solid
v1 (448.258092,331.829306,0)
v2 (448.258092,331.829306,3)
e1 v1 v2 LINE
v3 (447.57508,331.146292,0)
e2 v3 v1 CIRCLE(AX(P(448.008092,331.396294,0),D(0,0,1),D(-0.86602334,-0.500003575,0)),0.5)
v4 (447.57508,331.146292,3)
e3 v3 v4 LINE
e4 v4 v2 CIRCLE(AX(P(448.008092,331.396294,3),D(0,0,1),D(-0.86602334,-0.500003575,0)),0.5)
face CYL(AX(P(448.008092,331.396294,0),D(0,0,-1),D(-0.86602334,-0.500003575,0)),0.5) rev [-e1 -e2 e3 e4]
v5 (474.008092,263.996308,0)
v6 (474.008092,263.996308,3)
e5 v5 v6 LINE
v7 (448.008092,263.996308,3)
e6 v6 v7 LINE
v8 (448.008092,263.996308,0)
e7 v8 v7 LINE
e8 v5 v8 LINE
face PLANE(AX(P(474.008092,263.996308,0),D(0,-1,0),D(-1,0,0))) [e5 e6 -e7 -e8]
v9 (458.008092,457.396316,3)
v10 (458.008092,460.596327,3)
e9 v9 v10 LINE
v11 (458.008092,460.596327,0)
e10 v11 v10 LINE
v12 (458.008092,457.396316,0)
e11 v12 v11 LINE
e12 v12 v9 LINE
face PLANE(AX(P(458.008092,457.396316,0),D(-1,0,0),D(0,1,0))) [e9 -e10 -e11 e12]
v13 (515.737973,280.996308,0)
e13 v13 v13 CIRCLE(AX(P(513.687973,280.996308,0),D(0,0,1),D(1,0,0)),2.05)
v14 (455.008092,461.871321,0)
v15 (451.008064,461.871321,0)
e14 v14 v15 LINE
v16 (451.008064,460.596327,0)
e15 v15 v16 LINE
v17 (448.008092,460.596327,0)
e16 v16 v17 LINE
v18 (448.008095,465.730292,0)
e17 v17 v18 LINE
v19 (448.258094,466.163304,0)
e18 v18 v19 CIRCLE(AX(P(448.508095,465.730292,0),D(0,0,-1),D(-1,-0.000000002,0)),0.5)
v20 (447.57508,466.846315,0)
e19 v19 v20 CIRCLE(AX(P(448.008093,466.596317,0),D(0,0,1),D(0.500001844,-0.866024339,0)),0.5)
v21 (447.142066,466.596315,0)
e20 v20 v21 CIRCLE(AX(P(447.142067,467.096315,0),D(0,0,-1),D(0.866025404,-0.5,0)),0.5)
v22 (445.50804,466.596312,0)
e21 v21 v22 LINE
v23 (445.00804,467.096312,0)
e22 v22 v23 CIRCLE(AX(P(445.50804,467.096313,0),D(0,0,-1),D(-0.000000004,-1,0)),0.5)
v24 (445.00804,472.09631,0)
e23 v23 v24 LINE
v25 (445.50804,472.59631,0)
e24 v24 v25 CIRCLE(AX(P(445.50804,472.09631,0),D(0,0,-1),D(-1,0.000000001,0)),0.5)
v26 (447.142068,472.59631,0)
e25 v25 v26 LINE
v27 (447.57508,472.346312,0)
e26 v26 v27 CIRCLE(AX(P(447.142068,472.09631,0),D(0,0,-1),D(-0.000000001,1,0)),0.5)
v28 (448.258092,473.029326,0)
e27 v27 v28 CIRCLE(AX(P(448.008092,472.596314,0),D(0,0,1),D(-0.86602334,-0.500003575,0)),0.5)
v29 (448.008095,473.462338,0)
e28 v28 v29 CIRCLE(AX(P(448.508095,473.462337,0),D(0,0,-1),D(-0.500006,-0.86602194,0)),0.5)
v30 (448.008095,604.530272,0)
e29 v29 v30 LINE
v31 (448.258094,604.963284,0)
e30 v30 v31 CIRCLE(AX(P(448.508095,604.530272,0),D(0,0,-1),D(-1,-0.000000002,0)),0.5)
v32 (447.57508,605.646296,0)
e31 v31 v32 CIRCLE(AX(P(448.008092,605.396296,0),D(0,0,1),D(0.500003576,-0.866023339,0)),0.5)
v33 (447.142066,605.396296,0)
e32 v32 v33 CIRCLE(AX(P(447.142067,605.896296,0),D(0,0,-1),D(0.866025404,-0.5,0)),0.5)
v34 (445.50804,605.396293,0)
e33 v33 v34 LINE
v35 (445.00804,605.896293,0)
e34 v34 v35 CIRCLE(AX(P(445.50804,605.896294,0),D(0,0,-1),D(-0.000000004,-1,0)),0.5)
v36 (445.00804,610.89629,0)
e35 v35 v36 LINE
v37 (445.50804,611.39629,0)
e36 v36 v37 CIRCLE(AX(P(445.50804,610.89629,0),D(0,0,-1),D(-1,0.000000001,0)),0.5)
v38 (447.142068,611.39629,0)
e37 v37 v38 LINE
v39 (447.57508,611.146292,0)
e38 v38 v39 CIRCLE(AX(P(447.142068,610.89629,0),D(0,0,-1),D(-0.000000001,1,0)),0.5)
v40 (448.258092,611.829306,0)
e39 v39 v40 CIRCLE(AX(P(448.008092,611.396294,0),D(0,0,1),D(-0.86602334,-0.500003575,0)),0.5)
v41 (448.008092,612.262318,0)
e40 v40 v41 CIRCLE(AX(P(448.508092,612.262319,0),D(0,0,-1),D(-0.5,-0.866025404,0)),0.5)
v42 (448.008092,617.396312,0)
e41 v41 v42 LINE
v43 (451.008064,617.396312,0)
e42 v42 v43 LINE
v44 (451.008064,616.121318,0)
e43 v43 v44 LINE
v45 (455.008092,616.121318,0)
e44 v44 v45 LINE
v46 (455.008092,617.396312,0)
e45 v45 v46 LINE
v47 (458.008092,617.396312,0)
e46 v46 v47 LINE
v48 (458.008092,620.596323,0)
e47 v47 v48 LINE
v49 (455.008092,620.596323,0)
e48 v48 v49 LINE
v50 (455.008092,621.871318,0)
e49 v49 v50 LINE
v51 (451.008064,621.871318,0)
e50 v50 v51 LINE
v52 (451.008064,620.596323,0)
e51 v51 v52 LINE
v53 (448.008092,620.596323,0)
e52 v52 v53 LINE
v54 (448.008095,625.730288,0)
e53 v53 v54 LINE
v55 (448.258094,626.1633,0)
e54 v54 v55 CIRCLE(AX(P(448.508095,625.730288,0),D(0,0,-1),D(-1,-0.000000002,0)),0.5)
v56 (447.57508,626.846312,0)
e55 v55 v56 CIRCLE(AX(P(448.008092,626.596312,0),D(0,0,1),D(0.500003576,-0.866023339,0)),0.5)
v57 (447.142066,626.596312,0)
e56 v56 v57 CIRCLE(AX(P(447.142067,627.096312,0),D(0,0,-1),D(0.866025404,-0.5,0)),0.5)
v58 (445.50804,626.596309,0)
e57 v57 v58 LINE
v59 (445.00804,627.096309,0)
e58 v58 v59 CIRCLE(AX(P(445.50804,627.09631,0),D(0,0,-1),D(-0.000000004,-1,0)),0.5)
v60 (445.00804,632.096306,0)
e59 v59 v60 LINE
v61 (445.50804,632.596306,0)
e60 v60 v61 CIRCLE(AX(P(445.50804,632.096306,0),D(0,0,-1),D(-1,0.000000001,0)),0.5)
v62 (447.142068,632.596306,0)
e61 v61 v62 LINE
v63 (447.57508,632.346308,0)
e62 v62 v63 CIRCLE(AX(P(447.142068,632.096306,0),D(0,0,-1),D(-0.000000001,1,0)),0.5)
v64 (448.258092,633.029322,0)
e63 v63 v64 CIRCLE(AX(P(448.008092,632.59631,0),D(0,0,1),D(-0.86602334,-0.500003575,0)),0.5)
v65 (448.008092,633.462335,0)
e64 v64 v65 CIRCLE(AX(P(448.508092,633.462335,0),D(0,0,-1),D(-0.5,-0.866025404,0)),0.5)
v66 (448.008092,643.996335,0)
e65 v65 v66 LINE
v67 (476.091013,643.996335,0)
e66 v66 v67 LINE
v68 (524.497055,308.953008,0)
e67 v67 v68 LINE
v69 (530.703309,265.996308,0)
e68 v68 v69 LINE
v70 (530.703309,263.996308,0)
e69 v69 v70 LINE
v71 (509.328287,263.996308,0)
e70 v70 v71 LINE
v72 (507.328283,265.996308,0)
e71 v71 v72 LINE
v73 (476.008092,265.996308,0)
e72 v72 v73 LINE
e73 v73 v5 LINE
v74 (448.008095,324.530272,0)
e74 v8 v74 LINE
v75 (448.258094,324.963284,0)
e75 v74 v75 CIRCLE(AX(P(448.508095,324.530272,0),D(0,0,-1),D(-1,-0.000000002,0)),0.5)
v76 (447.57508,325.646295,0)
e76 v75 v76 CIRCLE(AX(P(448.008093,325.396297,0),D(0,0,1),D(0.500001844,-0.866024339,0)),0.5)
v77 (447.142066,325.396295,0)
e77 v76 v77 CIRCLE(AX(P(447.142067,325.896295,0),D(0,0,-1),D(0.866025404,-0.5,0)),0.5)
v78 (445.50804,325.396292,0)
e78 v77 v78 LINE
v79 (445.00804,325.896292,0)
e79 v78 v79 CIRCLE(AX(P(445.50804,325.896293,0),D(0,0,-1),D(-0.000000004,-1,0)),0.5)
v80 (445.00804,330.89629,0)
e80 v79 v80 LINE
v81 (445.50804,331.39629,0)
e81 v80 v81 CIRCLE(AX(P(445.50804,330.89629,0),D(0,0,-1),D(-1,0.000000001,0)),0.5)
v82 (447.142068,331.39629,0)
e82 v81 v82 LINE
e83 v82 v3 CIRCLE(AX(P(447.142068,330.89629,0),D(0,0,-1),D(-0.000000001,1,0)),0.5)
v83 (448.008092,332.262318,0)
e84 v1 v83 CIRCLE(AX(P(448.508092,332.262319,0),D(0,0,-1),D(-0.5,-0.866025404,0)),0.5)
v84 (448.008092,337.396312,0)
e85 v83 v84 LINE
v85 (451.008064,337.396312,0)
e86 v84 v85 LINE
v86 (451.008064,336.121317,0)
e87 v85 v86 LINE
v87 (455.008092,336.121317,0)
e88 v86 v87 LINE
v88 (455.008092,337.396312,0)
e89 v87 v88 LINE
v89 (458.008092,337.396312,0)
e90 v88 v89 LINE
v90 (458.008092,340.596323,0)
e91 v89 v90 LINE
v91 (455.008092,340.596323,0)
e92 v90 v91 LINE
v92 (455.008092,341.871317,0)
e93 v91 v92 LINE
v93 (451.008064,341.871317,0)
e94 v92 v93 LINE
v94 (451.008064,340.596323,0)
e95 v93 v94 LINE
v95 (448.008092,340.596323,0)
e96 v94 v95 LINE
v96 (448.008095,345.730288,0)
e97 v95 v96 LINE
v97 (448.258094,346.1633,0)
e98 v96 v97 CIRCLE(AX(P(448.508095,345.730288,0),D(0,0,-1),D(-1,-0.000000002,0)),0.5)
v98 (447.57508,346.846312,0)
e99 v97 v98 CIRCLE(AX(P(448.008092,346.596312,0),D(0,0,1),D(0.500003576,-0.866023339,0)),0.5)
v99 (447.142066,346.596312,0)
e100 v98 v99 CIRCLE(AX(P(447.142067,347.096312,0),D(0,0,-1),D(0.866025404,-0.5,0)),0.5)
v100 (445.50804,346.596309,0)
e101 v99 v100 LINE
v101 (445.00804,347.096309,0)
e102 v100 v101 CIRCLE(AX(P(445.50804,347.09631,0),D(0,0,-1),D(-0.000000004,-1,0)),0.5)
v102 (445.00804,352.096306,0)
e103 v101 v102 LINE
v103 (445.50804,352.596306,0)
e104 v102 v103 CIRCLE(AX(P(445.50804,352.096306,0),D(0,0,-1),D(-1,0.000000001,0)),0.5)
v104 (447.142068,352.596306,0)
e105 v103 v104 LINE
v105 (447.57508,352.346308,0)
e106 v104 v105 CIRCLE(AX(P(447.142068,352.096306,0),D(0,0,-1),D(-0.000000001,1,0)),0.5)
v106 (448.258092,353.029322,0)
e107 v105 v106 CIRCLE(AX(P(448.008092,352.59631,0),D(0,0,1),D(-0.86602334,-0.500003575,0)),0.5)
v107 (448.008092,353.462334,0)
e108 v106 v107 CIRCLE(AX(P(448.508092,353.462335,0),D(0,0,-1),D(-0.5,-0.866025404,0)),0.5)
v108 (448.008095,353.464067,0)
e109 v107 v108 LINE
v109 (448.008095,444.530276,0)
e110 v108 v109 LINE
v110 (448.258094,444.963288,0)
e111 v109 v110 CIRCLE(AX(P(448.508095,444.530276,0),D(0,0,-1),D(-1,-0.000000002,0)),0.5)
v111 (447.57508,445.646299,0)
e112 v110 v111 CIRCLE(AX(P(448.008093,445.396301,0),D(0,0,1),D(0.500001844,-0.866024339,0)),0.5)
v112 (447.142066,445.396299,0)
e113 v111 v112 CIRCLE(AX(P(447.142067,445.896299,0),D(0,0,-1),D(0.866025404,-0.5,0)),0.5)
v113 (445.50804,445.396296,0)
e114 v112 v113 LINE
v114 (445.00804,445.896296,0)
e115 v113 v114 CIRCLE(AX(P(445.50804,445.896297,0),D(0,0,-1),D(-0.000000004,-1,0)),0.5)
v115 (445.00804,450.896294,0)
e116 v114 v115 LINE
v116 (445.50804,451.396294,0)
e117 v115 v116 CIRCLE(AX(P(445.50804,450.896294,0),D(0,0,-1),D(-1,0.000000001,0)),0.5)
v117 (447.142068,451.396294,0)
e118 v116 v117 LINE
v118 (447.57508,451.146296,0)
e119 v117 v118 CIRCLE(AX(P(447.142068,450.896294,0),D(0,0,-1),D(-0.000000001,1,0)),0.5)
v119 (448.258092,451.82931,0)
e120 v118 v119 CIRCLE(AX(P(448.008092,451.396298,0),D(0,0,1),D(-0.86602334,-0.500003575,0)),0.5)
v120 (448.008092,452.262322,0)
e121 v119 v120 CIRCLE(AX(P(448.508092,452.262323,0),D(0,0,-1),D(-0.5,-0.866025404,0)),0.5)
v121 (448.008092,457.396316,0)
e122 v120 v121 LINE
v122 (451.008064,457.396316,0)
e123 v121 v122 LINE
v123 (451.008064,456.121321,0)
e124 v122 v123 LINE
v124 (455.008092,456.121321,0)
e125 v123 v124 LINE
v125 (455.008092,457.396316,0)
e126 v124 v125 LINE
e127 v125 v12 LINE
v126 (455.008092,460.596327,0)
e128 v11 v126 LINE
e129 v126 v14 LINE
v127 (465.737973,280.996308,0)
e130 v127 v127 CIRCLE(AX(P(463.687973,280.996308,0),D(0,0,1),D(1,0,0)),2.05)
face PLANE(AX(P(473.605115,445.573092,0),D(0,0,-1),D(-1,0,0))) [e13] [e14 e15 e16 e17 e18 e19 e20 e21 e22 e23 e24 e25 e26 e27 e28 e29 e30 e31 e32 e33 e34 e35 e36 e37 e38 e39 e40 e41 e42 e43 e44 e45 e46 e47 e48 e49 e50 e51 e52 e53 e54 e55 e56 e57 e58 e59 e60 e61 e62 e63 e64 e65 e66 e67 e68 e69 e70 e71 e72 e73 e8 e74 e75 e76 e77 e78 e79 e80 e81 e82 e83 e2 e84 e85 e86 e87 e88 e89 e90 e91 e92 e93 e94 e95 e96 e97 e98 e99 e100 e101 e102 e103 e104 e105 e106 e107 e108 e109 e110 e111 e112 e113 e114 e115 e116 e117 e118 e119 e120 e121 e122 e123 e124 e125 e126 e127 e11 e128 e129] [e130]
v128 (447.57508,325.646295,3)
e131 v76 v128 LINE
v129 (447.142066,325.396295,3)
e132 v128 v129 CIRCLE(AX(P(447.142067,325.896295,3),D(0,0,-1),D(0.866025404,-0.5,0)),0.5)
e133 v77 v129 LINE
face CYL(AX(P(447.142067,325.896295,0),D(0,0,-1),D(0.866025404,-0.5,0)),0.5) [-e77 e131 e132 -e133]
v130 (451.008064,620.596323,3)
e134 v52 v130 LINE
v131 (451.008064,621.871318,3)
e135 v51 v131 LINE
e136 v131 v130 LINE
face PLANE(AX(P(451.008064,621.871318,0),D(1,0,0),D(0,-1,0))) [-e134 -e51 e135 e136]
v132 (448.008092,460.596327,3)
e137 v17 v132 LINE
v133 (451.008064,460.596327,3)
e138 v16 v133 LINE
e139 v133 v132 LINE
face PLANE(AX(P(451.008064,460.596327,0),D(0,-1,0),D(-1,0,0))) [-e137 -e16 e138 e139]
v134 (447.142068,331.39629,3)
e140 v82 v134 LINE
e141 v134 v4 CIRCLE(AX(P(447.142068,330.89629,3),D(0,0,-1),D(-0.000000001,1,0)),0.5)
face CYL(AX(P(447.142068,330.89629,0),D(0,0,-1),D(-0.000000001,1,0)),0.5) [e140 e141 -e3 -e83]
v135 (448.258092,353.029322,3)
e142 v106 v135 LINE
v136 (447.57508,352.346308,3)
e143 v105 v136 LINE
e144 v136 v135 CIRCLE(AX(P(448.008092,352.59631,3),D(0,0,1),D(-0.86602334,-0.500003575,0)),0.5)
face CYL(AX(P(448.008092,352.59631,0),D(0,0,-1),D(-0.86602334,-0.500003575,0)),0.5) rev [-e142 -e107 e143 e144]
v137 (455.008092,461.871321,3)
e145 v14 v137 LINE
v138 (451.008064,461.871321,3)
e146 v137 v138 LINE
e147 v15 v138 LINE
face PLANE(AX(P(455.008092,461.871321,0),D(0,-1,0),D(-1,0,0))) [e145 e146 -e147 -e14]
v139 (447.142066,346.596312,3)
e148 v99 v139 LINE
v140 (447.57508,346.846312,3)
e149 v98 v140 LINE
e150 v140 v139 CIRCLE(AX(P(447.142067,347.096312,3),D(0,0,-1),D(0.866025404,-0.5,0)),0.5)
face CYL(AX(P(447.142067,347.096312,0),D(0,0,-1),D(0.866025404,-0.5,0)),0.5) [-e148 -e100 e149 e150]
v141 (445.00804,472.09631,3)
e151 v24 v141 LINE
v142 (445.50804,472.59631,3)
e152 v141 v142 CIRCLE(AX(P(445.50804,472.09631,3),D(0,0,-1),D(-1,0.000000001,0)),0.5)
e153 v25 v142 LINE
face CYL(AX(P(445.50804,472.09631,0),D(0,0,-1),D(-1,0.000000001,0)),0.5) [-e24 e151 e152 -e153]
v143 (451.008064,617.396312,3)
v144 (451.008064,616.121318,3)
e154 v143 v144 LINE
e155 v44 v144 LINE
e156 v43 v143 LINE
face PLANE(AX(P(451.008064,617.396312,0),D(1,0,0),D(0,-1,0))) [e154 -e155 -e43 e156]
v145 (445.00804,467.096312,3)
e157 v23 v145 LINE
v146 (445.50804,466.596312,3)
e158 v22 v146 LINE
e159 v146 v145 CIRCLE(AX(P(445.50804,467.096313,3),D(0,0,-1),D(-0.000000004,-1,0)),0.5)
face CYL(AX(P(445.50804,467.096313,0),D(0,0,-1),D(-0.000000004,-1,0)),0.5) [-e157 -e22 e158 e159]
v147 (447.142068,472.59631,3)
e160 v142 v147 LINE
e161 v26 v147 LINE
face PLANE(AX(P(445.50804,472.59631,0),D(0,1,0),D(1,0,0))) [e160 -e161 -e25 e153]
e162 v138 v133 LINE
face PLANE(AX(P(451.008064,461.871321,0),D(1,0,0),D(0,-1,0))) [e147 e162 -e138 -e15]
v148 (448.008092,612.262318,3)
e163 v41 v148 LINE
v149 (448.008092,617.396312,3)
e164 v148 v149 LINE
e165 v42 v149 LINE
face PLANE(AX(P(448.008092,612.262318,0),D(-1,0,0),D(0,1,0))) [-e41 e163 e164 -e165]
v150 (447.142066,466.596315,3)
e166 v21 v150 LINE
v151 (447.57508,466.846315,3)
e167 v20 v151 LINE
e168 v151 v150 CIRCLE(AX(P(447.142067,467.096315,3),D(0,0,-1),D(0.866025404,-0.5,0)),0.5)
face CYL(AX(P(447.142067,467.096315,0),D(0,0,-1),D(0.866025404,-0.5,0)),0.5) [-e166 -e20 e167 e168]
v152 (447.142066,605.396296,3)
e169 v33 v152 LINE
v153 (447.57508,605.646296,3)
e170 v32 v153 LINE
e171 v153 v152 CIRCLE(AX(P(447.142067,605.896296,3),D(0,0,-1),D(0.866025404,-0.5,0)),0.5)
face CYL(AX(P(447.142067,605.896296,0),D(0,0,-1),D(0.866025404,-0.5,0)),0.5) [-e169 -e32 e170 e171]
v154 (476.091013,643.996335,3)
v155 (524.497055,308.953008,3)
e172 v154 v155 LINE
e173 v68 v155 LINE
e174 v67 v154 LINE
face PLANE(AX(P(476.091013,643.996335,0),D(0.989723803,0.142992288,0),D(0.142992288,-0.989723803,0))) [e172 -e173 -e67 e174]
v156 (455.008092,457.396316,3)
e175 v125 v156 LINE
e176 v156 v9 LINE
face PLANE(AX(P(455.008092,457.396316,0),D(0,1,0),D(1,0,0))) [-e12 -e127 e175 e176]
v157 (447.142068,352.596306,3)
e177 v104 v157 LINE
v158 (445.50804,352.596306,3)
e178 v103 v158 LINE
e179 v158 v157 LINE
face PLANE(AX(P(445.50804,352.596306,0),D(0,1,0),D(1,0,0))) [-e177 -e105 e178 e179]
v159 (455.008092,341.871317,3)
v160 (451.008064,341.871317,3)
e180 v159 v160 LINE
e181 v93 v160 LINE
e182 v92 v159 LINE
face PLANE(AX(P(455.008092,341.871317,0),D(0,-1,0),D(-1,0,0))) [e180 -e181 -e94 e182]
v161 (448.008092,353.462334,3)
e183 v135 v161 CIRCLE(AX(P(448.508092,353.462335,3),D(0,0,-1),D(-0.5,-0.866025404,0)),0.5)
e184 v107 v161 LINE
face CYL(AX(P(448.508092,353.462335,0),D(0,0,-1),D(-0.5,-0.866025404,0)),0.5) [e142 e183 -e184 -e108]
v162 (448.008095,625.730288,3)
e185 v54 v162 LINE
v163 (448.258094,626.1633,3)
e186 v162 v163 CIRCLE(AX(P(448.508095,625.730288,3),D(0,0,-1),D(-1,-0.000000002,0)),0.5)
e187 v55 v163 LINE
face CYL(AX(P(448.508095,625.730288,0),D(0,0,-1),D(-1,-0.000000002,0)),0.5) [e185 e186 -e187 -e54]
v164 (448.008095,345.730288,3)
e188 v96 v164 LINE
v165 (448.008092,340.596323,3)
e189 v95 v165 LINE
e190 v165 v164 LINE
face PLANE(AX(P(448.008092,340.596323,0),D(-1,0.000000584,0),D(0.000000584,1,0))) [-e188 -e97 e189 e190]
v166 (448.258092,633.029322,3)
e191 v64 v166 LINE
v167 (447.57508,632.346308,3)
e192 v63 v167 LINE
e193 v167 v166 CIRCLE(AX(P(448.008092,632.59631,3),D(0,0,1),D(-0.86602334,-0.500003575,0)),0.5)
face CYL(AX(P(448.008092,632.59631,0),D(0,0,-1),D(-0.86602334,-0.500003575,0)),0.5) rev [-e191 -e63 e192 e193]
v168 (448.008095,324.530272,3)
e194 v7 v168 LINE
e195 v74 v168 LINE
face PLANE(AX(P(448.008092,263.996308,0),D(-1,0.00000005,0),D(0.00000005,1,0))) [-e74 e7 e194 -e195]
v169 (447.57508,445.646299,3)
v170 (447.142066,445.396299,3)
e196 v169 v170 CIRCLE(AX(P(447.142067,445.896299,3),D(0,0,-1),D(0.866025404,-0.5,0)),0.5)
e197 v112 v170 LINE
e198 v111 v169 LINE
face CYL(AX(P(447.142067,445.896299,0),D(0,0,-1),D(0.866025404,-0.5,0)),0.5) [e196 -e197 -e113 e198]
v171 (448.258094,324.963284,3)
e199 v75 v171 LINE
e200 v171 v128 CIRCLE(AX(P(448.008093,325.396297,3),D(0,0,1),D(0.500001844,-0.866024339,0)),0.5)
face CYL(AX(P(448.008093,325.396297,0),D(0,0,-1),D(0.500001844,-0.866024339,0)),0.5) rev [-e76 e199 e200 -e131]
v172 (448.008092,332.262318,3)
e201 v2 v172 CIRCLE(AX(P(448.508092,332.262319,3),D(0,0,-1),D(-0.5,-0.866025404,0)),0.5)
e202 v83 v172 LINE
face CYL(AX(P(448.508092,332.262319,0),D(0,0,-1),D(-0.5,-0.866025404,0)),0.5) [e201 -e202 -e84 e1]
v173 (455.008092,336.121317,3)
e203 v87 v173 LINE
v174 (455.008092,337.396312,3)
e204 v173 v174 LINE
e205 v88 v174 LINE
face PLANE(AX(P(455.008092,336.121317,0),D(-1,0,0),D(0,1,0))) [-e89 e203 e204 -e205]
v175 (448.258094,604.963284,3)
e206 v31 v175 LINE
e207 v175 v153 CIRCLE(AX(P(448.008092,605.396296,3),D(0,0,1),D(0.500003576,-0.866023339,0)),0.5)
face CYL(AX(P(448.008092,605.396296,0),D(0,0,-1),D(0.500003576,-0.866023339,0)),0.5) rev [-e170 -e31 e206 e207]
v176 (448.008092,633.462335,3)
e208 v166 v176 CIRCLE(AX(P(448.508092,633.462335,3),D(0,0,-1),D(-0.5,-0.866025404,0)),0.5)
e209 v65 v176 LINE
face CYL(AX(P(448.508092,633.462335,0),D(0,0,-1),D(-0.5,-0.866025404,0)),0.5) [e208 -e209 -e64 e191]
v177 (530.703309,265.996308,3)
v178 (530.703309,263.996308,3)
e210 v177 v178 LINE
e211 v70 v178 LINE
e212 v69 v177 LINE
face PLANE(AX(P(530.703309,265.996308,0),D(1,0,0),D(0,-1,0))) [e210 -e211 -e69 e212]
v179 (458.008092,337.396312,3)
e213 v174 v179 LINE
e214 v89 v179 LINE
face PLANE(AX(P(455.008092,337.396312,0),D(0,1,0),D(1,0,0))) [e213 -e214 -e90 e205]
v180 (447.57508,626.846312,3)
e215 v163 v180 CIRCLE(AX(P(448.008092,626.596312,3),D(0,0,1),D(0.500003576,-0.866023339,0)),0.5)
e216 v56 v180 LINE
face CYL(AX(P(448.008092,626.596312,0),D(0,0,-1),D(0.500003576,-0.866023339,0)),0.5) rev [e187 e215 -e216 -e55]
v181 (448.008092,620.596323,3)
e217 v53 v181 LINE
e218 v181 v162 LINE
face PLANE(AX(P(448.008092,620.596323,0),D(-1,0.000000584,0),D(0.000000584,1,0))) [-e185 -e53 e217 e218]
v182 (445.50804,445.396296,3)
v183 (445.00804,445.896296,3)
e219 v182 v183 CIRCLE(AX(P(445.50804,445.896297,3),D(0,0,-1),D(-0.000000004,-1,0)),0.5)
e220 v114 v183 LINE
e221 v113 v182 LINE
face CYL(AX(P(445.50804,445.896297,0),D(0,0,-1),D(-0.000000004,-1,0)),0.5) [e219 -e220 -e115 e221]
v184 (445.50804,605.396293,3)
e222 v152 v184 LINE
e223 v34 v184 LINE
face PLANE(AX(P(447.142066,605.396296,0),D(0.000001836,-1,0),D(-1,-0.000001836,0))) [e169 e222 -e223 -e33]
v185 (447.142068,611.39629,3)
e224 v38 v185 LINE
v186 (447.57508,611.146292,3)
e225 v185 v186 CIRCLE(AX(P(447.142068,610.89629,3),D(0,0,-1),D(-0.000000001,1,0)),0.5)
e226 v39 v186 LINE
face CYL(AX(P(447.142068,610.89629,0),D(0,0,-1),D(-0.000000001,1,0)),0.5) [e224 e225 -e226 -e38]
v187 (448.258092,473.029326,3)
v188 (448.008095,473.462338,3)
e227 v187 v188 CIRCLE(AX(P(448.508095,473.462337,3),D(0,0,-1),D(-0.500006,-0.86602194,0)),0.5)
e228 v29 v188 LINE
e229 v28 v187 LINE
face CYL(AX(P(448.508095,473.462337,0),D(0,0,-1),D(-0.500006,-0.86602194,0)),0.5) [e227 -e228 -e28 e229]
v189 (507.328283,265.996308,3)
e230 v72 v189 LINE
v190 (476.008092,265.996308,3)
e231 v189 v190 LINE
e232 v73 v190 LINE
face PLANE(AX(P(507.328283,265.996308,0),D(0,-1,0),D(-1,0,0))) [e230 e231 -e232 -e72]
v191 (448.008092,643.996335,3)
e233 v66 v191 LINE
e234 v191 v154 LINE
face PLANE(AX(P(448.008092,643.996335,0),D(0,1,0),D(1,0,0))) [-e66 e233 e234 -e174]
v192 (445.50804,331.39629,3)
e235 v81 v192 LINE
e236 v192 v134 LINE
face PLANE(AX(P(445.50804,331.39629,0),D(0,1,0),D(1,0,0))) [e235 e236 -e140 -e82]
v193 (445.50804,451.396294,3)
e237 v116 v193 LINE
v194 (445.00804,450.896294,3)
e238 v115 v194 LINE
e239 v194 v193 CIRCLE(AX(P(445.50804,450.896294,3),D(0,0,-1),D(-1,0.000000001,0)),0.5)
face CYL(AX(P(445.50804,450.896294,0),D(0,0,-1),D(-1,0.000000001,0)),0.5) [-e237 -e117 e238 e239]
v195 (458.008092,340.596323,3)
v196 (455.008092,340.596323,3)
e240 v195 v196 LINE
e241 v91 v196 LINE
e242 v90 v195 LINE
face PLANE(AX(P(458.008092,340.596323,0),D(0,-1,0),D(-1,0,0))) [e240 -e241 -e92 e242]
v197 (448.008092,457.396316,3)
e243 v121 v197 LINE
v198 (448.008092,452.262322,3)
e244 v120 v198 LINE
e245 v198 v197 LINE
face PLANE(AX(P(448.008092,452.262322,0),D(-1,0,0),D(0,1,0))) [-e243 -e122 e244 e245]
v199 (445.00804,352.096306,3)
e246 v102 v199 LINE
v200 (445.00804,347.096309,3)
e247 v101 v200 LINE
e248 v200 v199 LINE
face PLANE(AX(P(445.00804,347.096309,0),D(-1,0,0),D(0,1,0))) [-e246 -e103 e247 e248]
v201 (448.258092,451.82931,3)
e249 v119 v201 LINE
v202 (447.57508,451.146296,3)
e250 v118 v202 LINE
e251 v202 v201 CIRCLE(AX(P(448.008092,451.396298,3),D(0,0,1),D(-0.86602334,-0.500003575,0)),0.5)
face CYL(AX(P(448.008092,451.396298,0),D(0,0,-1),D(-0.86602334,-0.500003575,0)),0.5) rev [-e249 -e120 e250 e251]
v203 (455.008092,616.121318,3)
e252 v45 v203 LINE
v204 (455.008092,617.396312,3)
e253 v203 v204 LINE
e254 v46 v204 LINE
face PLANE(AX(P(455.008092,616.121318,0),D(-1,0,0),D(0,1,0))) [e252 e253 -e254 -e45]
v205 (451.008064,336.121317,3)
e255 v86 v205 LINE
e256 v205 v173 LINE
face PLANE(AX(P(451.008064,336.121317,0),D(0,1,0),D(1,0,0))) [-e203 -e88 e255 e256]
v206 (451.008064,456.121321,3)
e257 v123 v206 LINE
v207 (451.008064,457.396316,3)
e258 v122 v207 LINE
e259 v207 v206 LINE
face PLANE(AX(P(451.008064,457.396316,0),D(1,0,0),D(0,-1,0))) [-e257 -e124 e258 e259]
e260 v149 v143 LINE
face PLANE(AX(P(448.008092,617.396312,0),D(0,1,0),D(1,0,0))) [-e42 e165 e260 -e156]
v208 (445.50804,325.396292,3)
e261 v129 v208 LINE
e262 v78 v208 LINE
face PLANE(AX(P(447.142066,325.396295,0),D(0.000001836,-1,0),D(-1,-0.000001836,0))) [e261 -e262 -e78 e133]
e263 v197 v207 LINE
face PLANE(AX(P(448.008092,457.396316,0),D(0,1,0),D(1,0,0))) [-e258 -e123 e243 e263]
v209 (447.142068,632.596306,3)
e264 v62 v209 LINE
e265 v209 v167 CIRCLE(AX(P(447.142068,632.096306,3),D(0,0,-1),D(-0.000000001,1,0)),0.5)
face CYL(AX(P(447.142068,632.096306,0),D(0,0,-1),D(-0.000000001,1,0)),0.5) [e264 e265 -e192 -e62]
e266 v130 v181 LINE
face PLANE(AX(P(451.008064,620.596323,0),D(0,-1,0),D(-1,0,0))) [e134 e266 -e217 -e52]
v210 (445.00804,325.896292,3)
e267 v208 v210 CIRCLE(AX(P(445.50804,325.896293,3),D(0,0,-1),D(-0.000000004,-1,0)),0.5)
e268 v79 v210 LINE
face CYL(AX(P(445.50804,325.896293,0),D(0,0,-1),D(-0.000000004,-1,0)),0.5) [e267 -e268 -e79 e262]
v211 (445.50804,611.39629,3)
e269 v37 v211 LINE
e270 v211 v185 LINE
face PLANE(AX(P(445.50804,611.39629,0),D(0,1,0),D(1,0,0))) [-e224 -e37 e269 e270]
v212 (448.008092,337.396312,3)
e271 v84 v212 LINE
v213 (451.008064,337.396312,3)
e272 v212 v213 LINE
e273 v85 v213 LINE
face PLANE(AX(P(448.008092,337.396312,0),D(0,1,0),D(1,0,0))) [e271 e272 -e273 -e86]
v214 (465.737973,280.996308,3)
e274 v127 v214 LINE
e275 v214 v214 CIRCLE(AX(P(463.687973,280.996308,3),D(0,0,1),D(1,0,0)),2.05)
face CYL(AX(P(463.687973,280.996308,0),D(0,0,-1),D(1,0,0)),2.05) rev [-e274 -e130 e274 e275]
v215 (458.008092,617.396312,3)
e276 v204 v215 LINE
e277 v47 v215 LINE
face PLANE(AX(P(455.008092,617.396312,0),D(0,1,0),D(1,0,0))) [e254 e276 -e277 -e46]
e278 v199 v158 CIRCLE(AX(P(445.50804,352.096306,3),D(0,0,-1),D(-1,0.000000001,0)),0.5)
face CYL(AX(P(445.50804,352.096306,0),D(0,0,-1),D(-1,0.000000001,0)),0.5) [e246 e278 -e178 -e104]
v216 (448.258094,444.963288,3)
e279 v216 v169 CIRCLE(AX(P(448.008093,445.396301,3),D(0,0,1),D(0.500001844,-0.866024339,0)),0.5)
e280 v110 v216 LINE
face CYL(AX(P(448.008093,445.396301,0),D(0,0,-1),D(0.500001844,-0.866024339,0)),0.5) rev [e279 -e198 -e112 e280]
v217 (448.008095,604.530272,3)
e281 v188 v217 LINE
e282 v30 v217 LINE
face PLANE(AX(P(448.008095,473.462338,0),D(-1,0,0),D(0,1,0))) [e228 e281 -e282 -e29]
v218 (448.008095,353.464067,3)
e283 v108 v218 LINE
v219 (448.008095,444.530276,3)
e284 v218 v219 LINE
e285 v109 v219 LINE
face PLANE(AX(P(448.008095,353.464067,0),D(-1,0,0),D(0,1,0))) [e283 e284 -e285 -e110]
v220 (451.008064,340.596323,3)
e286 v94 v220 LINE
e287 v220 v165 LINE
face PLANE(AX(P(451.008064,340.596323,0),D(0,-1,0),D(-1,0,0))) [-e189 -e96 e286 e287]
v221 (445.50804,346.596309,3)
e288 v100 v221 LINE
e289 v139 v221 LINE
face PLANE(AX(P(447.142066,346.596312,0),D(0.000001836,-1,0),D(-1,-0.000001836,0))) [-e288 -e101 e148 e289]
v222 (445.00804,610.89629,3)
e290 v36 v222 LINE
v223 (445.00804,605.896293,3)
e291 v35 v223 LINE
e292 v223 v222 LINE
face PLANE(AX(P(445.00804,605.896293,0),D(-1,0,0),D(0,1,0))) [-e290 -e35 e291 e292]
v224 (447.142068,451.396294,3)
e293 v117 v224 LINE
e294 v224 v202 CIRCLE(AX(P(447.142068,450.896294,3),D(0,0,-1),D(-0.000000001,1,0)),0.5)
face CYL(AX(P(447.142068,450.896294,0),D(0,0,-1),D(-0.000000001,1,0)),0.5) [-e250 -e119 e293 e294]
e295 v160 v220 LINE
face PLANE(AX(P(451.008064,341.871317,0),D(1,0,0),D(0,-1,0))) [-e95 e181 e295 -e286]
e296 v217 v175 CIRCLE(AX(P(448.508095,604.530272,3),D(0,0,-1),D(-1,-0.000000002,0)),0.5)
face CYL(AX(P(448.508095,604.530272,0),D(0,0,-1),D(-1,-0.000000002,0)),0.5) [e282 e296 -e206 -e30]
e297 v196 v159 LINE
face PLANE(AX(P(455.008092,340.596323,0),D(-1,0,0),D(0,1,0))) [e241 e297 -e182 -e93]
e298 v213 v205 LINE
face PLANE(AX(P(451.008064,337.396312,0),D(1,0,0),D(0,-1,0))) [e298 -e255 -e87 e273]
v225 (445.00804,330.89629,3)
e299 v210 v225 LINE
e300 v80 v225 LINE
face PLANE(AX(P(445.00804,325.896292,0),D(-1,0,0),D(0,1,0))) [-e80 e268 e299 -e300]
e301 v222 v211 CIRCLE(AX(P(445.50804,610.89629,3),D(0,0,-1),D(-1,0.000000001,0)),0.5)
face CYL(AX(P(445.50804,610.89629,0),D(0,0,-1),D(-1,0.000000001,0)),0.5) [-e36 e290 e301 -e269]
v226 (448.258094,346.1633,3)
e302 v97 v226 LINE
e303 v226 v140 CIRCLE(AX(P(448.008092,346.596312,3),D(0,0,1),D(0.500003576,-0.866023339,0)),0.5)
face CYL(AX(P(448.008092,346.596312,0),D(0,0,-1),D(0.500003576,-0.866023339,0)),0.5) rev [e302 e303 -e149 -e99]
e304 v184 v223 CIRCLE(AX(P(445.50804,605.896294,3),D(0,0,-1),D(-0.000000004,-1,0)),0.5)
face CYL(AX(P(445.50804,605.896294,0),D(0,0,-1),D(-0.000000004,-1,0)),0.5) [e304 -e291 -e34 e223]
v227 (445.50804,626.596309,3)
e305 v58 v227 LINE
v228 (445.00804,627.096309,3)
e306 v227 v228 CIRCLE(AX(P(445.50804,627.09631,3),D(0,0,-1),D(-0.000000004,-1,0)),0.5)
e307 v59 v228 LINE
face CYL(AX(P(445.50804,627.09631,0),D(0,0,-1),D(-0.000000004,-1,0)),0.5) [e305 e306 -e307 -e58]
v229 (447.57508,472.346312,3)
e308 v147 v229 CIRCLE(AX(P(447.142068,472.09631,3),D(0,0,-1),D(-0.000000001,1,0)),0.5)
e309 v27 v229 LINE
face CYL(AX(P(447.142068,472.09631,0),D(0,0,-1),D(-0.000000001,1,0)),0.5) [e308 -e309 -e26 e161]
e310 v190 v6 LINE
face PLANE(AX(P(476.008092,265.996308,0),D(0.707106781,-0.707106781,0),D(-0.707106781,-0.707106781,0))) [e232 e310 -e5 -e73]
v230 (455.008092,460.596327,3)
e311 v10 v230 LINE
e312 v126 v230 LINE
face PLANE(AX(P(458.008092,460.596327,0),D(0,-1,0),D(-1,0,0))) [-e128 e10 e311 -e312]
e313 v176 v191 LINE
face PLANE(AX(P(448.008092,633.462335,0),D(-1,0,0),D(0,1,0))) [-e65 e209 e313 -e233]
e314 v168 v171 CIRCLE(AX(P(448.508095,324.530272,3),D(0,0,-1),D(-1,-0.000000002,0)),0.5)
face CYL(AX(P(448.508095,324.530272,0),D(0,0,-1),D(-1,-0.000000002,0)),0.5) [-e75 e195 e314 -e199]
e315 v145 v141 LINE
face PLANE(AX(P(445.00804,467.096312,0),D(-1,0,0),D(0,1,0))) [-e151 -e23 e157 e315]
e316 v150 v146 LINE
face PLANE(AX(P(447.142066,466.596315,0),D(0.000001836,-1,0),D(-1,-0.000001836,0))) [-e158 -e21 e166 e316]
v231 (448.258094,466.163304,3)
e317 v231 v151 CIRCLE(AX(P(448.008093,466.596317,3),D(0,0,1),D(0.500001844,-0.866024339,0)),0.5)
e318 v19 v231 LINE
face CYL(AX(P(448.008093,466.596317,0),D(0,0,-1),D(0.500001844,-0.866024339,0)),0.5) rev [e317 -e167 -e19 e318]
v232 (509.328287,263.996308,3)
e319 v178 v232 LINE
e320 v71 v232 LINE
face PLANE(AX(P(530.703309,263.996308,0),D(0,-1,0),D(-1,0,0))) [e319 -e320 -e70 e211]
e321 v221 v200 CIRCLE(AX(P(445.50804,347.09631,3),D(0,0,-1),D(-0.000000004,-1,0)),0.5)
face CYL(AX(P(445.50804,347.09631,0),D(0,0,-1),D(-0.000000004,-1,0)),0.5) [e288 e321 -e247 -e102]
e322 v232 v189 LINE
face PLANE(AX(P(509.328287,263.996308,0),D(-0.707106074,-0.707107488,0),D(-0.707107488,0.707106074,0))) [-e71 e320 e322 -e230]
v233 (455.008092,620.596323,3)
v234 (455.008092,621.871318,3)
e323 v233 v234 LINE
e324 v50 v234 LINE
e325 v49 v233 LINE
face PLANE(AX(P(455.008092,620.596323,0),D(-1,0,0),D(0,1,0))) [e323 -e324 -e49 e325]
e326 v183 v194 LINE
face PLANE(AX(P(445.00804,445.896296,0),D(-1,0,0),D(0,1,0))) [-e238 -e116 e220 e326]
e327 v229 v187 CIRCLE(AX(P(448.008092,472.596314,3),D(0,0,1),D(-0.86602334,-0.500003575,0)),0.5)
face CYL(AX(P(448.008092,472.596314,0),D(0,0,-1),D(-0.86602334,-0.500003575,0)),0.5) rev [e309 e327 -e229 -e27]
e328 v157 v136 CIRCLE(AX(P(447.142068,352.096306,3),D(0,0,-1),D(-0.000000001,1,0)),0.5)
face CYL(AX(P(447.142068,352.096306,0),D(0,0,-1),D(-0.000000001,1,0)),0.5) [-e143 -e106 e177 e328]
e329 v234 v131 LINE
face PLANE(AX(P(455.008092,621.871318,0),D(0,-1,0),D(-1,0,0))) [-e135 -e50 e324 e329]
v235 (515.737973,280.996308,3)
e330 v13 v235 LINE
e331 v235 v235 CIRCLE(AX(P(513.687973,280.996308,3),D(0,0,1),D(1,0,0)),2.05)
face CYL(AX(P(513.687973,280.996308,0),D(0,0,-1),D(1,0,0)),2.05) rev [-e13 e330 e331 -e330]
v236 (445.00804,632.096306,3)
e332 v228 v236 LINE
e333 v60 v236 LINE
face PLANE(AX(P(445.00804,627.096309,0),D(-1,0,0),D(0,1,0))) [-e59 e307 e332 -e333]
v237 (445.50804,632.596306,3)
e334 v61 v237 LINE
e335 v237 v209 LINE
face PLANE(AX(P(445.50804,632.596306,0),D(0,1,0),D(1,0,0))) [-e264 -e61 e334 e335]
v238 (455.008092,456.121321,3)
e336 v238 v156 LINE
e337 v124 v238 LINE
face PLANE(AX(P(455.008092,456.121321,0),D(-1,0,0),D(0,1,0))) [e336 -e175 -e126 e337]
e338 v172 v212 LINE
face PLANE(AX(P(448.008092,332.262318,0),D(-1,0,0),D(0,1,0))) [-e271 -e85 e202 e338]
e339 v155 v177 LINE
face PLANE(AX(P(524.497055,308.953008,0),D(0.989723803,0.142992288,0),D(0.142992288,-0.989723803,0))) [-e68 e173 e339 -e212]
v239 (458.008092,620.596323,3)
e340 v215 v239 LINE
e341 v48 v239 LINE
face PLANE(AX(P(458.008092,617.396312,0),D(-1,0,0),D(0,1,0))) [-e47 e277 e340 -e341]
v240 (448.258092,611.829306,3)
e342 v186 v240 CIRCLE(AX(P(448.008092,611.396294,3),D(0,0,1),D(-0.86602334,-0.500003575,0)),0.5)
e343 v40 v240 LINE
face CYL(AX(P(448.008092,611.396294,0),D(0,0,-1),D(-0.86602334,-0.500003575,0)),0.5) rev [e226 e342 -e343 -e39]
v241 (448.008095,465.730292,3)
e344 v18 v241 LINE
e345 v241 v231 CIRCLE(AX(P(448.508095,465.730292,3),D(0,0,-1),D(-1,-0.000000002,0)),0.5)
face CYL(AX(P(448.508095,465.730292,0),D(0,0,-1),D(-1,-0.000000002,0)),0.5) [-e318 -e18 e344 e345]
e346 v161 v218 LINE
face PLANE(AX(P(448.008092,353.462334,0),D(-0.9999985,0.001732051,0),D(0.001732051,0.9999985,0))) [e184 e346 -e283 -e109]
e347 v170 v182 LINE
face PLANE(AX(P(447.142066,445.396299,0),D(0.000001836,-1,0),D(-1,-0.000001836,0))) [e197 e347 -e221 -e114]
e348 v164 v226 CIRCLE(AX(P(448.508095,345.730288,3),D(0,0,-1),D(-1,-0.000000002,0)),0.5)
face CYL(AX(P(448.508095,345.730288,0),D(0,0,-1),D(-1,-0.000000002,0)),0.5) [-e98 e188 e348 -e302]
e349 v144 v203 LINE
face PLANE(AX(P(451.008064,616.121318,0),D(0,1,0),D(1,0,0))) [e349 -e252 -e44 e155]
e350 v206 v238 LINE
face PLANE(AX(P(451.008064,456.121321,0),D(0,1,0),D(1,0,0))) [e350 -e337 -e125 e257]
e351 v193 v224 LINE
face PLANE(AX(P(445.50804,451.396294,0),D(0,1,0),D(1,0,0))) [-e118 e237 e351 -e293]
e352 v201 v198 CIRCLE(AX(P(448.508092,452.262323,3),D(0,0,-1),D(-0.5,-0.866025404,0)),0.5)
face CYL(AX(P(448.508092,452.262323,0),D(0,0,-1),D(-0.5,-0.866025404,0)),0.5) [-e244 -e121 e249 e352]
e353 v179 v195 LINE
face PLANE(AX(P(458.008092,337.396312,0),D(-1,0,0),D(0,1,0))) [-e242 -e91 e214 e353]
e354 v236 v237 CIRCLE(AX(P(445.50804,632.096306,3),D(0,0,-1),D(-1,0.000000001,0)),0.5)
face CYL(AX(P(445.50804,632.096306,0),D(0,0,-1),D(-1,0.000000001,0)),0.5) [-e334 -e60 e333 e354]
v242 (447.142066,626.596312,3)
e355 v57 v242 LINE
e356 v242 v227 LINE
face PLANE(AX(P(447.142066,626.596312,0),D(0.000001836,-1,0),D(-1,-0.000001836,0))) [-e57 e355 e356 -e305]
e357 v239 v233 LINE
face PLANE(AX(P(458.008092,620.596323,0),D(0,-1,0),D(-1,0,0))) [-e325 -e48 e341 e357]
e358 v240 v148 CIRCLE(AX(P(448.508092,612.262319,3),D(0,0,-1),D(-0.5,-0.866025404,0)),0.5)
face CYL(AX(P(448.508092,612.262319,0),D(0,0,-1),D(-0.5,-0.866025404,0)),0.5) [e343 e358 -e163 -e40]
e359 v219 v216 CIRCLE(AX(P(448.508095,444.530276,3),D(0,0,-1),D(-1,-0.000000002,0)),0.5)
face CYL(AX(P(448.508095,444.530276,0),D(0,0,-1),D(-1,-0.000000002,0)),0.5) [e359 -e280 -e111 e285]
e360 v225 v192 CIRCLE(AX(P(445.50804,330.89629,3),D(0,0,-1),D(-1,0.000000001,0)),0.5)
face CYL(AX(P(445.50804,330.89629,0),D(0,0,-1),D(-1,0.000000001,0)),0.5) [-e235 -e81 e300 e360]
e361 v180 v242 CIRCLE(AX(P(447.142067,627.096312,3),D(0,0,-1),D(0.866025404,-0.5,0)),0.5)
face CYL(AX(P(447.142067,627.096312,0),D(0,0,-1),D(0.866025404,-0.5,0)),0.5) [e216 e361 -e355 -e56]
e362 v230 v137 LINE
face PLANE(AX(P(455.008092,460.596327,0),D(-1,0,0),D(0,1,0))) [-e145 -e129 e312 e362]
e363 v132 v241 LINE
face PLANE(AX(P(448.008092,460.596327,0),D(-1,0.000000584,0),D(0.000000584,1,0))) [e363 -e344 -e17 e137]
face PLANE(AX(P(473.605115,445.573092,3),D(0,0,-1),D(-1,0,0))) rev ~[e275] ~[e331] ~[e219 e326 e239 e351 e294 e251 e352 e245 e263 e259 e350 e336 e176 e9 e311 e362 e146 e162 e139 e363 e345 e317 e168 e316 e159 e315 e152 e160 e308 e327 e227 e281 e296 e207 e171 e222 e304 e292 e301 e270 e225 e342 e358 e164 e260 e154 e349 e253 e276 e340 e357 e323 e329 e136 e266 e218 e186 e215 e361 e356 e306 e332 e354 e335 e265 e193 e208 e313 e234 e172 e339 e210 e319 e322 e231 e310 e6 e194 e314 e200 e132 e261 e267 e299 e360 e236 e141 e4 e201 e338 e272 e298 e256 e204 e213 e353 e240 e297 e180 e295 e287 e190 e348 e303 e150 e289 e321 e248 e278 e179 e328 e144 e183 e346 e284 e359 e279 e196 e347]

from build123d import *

# Parameters (mm, degrees)
MODEL_R                 = 2.05
SALIENTE_EXTRUIR1_DEPTH = 3


with BuildPart() as part:
    # Model → Saliente-Extruir1 (new body)
    with BuildSketch(Plane.XY):
        with BuildLine():
            Line((458.658091322, 643.996335498), (476.091013084, 643.996335498))
            Line((476.091013084, 643.996335498), (524.497055169, 308.953007972))
            Line((524.497055169, 308.953007972), (530.703308605, 265.996308498))
            Line((530.703308605, 265.996308498), (530.703308605, 263.996308498))
            Line((530.703308605, 263.996308498), (509.328287285, 263.996308498))
            Line((509.328287285, 263.996308498), (507.328283285, 265.996308498))
            Line((507.328283285, 265.996308498), (476.008092322, 265.996308498))
            Line((476.008092322, 265.996308498), (474.008092322, 263.996308498))
            Line((474.008092322, 263.996308498), (448.008092322, 263.996308498))
            Line((448.008092322, 263.996308498), (448.008095322, 324.530272498))
            ThreePointArc((448.008095322, 324.530272498), (448.075082188, 324.78027175), (448.258093826, 324.963284336))
            ThreePointArc((448.258093826, 324.963284336), (448.361645507, 325.749850684), (447.57507962, 325.646295498))
            ThreePointArc((447.57507962, 325.646295498), (447.39206666, 325.463282647), (447.142066322, 325.396295498))
            Line((447.142066322, 325.396295498), (445.508040322, 325.396292498))
            ThreePointArc((445.508040322, 325.396292498), (445.154486932, 325.542739108), (445.008040322, 325.896292498))
            Line((445.008040322, 325.896292498), (445.008040322, 330.896290498))
            ThreePointArc((445.008040322, 330.896290498), (445.154486932, 331.249843889), (445.508040322, 331.396290498))
            Line((445.508040322, 331.396290498), (447.142068322, 331.396290498))
            ThreePointArc((447.142068322, 331.396290498), (447.392067574, 331.329303632), (447.57508016, 331.146291995))
            ThreePointArc((447.57508016, 331.146291995), (448.361645749, 331.042740921), (448.258092322, 331.8293062))
            ThreePointArc((448.258092322, 331.8293062), (448.075079721, 332.012318727), (448.008092322, 332.262318498))
            Line((448.008092322, 332.262318498), (448.008092322, 337.396312498))
            Line((448.008092322, 337.396312498), (451.008064322, 337.396312498))
            Line((451.008064322, 337.396312498), (451.008064322, 336.121317498))
            Line((451.008064322, 336.121317498), (455.008092322, 336.121317498))
            Line((455.008092322, 336.121317498), (455.008092322, 337.396312498))
            Line((455.008092322, 337.396312498), (458.008092322, 337.396312498))
            Line((458.008092322, 337.396312498), (458.008092322, 340.596323498))
            Line((458.008092322, 340.596323498), (455.008092322, 340.596323498))
            Line((455.008092322, 340.596323498), (455.008092322, 341.871317498))
            Line((455.008092322, 341.871317498), (451.008064322, 341.871317498))
            Line((451.008064322, 341.871317498), (451.008064322, 340.596323498))
            Line((451.008064322, 340.596323498), (448.008092322, 340.596323498))
            Line((448.008092322, 340.596323498), (448.008095322, 345.730288498))
            ThreePointArc((448.008095322, 345.730288498), (448.075082188, 345.98028775), (448.258093826, 346.163300336))
            ThreePointArc((448.258093826, 346.163300336), (448.3616449, 346.949865925), (447.57507962, 346.846312498))
            ThreePointArc((447.57507962, 346.846312498), (447.39206666, 346.663299647), (447.142066322, 346.596312498))
            Line((447.142066322, 346.596312498), (445.508040322, 346.596309498))
            ThreePointArc((445.508040322, 346.596309498), (445.154486932, 346.742756108), (445.008040322, 347.096309498))
            Line((445.008040322, 347.096309498), (445.008040322, 352.096306498))
            ThreePointArc((445.008040322, 352.096306498), (445.154486932, 352.449859889), (445.508040322, 352.596306498))
            Line((445.508040322, 352.596306498), (447.142068322, 352.596306498))
            ThreePointArc((447.142068322, 352.596306498), (447.392067574, 352.529319632), (447.57508016, 352.346307995))
            ThreePointArc((447.57508016, 352.346307995), (448.361645749, 352.242756921), (448.258092322, 353.0293222))
            ThreePointArc((448.258092322, 353.0293222), (448.075079721, 353.212334727), (448.008092322, 353.462334498))
            Line((448.008092322, 353.462334498), (448.008095322, 353.464066546))
            Line((448.008095322, 353.464066546), (448.008095322, 444.530276498))
            ThreePointArc((448.008095322, 444.530276498), (448.075082188, 444.78027575), (448.258093826, 444.963288336))
            ThreePointArc((448.258093826, 444.963288336), (448.361645507, 445.749854684), (447.57507962, 445.646299498))
            ThreePointArc((447.57507962, 445.646299498), (447.39206666, 445.463286647), (447.142066322, 445.396299498))
            Line((447.142066322, 445.396299498), (445.508040322, 445.396296498))
            ThreePointArc((445.508040322, 445.396296498), (445.154486932, 445.542743108), (445.008040322, 445.896296498))
            Line((445.008040322, 445.896296498), (445.008040322, 450.896294498))
            ThreePointArc((445.008040322, 450.896294498), (445.154486932, 451.249847889), (445.508040322, 451.396294498))
            Line((445.508040322, 451.396294498), (447.142068322, 451.396294498))
            ThreePointArc((447.142068322, 451.396294498), (447.392067574, 451.329307632), (447.57508016, 451.146295995))
            ThreePointArc((447.57508016, 451.146295995), (448.361645749, 451.042744921), (448.258092322, 451.8293102))
            ThreePointArc((448.258092322, 451.8293102), (448.075079721, 452.012322727), (448.008092322, 452.262322498))
            Line((448.008092322, 452.262322498), (448.008092322, 457.396316498))
            Line((448.008092322, 457.396316498), (451.008064322, 457.396316498))
            Line((451.008064322, 457.396316498), (451.008064322, 456.121321498))
            Line((451.008064322, 456.121321498), (455.008092322, 456.121321498))
            Line((455.008092322, 456.121321498), (455.008092322, 457.396316498))
            Line((455.008092322, 457.396316498), (458.008092322, 457.396316498))
            Line((458.008092322, 457.396316498), (458.008092322, 460.596327498))
            Line((458.008092322, 460.596327498), (455.008092322, 460.596327498))
            Line((455.008092322, 460.596327498), (455.008092322, 461.871321498))
            Line((455.008092322, 461.871321498), (451.008064322, 461.871321498))
            Line((451.008064322, 461.871321498), (451.008064322, 460.596327498))
            Line((451.008064322, 460.596327498), (448.008092322, 460.596327498))
            Line((448.008092322, 460.596327498), (448.008095322, 465.730292498))
            ThreePointArc((448.008095322, 465.730292498), (448.075082188, 465.98029175), (448.258093826, 466.163304336))
            ThreePointArc((448.258093826, 466.163304336), (448.361645507, 466.949870684), (447.57507962, 466.846315498))
            ThreePointArc((447.57507962, 466.846315498), (447.39206666, 466.663302647), (447.142066322, 466.596315498))
            Line((447.142066322, 466.596315498), (445.508040322, 466.596312498))
            ThreePointArc((445.508040322, 466.596312498), (445.154486932, 466.742759108), (445.008040322, 467.096312498))
            Line((445.008040322, 467.096312498), (445.008040322, 472.096310498))
            ThreePointArc((445.008040322, 472.096310498), (445.154486932, 472.449863889), (445.508040322, 472.596310498))
            Line((445.508040322, 472.596310498), (447.142068322, 472.596310498))
            ThreePointArc((447.142068322, 472.596310498), (447.392067574, 472.529323632), (447.57508016, 472.346311995))
            ThreePointArc((447.57508016, 472.346311995), (448.361645749, 472.242760921), (448.258092322, 473.0293262))
            ThreePointArc((448.258092322, 473.0293262), (448.075081422, 473.212339245), (448.008095322, 473.462338498))
            Line((448.008095322, 473.462338498), (448.008095322, 473.464070546))
            Line((448.008095322, 473.464070546), (448.008095322, 604.530272498))
            ThreePointArc((448.008095322, 604.530272498), (448.075082188, 604.78027175), (448.258093826, 604.963284336))
            ThreePointArc((448.258093826, 604.963284336), (448.3616449, 605.749849925), (447.57507962, 605.646296498))
            ThreePointArc((447.57507962, 605.646296498), (447.39206666, 605.463283647), (447.142066322, 605.396296498))
            Line((447.142066322, 605.396296498), (445.508040322, 605.396293498))
            ThreePointArc((445.508040322, 605.396293498), (445.154486932, 605.542740108), (445.008040322, 605.896293498))
            Line((445.008040322, 605.896293498), (445.008040322, 610.896290498))
            ThreePointArc((445.008040322, 610.896290498), (445.154486932, 611.249843889), (445.508040322, 611.396290498))
            Line((445.508040322, 611.396290498), (447.142068322, 611.396290498))
            ThreePointArc((447.142068322, 611.396290498), (447.392067574, 611.329303632), (447.57508016, 611.146291995))
            ThreePointArc((447.57508016, 611.146291995), (448.361645749, 611.042740921), (448.258092322, 611.8293062))
            ThreePointArc((448.258092322, 611.8293062), (448.075079721, 612.012318727), (448.008092322, 612.262318498))
            Line((448.008092322, 612.262318498), (448.008092322, 617.396312498))
            Line((448.008092322, 617.396312498), (451.008064322, 617.396312498))
            Line((451.008064322, 617.396312498), (451.008064322, 616.121318498))
            Line((451.008064322, 616.121318498), (455.008092322, 616.121318498))
            Line((455.008092322, 616.121318498), (455.008092322, 617.396312498))
            Line((455.008092322, 617.396312498), (458.008092322, 617.396312498))
            Line((458.008092322, 617.396312498), (458.008092322, 620.596323498))
            Line((458.008092322, 620.596323498), (455.008092322, 620.596323498))
            Line((455.008092322, 620.596323498), (455.008092322, 621.871318498))
            Line((455.008092322, 621.871318498), (451.008064322, 621.871318498))
            Line((451.008064322, 621.871318498), (451.008064322, 620.596323498))
            Line((451.008064322, 620.596323498), (448.008092322, 620.596323498))
            Line((448.008092322, 620.596323498), (448.008095322, 625.730288498))
            ThreePointArc((448.008095322, 625.730288498), (448.075082188, 625.98028775), (448.258093826, 626.163300336))
            ThreePointArc((448.258093826, 626.163300336), (448.3616449, 626.949865925), (447.57507962, 626.846312498))
            ThreePointArc((447.57507962, 626.846312498), (447.39206666, 626.663299647), (447.142066322, 626.596312498))
            Line((447.142066322, 626.596312498), (445.508040322, 626.596309498))
            ThreePointArc((445.508040322, 626.596309498), (445.154486932, 626.742756108), (445.008040322, 627.096309498))
            Line((445.008040322, 627.096309498), (445.008040322, 632.096306498))
            ThreePointArc((445.008040322, 632.096306498), (445.154486932, 632.449859889), (445.508040322, 632.596306498))
            Line((445.508040322, 632.596306498), (447.142068322, 632.596306498))
            ThreePointArc((447.142068322, 632.596306498), (447.392067574, 632.529319632), (447.57508016, 632.346307995))
            ThreePointArc((447.57508016, 632.346307995), (448.361645749, 632.242756921), (448.258092322, 633.0293222))
            ThreePointArc((448.258092322, 633.0293222), (448.075079471, 633.21233516), (448.008092322, 633.462335498))
            Line((448.008092322, 633.462335498), (448.008092322, 643.996335498))
            Line((448.008092322, 643.996335498), (458.658091322, 643.996335498))
        make_face()
        with Locations((463.687972981, 280.996308498)):
            Circle(MODEL_R, mode=Mode.SUBTRACT)
        with Locations((513.687972981, 280.996308498)):
            Circle(MODEL_R, mode=Mode.SUBTRACT)
    extrude(amount=SALIENTE_EXTRUIR1_DEPTH)


solid = part.part
